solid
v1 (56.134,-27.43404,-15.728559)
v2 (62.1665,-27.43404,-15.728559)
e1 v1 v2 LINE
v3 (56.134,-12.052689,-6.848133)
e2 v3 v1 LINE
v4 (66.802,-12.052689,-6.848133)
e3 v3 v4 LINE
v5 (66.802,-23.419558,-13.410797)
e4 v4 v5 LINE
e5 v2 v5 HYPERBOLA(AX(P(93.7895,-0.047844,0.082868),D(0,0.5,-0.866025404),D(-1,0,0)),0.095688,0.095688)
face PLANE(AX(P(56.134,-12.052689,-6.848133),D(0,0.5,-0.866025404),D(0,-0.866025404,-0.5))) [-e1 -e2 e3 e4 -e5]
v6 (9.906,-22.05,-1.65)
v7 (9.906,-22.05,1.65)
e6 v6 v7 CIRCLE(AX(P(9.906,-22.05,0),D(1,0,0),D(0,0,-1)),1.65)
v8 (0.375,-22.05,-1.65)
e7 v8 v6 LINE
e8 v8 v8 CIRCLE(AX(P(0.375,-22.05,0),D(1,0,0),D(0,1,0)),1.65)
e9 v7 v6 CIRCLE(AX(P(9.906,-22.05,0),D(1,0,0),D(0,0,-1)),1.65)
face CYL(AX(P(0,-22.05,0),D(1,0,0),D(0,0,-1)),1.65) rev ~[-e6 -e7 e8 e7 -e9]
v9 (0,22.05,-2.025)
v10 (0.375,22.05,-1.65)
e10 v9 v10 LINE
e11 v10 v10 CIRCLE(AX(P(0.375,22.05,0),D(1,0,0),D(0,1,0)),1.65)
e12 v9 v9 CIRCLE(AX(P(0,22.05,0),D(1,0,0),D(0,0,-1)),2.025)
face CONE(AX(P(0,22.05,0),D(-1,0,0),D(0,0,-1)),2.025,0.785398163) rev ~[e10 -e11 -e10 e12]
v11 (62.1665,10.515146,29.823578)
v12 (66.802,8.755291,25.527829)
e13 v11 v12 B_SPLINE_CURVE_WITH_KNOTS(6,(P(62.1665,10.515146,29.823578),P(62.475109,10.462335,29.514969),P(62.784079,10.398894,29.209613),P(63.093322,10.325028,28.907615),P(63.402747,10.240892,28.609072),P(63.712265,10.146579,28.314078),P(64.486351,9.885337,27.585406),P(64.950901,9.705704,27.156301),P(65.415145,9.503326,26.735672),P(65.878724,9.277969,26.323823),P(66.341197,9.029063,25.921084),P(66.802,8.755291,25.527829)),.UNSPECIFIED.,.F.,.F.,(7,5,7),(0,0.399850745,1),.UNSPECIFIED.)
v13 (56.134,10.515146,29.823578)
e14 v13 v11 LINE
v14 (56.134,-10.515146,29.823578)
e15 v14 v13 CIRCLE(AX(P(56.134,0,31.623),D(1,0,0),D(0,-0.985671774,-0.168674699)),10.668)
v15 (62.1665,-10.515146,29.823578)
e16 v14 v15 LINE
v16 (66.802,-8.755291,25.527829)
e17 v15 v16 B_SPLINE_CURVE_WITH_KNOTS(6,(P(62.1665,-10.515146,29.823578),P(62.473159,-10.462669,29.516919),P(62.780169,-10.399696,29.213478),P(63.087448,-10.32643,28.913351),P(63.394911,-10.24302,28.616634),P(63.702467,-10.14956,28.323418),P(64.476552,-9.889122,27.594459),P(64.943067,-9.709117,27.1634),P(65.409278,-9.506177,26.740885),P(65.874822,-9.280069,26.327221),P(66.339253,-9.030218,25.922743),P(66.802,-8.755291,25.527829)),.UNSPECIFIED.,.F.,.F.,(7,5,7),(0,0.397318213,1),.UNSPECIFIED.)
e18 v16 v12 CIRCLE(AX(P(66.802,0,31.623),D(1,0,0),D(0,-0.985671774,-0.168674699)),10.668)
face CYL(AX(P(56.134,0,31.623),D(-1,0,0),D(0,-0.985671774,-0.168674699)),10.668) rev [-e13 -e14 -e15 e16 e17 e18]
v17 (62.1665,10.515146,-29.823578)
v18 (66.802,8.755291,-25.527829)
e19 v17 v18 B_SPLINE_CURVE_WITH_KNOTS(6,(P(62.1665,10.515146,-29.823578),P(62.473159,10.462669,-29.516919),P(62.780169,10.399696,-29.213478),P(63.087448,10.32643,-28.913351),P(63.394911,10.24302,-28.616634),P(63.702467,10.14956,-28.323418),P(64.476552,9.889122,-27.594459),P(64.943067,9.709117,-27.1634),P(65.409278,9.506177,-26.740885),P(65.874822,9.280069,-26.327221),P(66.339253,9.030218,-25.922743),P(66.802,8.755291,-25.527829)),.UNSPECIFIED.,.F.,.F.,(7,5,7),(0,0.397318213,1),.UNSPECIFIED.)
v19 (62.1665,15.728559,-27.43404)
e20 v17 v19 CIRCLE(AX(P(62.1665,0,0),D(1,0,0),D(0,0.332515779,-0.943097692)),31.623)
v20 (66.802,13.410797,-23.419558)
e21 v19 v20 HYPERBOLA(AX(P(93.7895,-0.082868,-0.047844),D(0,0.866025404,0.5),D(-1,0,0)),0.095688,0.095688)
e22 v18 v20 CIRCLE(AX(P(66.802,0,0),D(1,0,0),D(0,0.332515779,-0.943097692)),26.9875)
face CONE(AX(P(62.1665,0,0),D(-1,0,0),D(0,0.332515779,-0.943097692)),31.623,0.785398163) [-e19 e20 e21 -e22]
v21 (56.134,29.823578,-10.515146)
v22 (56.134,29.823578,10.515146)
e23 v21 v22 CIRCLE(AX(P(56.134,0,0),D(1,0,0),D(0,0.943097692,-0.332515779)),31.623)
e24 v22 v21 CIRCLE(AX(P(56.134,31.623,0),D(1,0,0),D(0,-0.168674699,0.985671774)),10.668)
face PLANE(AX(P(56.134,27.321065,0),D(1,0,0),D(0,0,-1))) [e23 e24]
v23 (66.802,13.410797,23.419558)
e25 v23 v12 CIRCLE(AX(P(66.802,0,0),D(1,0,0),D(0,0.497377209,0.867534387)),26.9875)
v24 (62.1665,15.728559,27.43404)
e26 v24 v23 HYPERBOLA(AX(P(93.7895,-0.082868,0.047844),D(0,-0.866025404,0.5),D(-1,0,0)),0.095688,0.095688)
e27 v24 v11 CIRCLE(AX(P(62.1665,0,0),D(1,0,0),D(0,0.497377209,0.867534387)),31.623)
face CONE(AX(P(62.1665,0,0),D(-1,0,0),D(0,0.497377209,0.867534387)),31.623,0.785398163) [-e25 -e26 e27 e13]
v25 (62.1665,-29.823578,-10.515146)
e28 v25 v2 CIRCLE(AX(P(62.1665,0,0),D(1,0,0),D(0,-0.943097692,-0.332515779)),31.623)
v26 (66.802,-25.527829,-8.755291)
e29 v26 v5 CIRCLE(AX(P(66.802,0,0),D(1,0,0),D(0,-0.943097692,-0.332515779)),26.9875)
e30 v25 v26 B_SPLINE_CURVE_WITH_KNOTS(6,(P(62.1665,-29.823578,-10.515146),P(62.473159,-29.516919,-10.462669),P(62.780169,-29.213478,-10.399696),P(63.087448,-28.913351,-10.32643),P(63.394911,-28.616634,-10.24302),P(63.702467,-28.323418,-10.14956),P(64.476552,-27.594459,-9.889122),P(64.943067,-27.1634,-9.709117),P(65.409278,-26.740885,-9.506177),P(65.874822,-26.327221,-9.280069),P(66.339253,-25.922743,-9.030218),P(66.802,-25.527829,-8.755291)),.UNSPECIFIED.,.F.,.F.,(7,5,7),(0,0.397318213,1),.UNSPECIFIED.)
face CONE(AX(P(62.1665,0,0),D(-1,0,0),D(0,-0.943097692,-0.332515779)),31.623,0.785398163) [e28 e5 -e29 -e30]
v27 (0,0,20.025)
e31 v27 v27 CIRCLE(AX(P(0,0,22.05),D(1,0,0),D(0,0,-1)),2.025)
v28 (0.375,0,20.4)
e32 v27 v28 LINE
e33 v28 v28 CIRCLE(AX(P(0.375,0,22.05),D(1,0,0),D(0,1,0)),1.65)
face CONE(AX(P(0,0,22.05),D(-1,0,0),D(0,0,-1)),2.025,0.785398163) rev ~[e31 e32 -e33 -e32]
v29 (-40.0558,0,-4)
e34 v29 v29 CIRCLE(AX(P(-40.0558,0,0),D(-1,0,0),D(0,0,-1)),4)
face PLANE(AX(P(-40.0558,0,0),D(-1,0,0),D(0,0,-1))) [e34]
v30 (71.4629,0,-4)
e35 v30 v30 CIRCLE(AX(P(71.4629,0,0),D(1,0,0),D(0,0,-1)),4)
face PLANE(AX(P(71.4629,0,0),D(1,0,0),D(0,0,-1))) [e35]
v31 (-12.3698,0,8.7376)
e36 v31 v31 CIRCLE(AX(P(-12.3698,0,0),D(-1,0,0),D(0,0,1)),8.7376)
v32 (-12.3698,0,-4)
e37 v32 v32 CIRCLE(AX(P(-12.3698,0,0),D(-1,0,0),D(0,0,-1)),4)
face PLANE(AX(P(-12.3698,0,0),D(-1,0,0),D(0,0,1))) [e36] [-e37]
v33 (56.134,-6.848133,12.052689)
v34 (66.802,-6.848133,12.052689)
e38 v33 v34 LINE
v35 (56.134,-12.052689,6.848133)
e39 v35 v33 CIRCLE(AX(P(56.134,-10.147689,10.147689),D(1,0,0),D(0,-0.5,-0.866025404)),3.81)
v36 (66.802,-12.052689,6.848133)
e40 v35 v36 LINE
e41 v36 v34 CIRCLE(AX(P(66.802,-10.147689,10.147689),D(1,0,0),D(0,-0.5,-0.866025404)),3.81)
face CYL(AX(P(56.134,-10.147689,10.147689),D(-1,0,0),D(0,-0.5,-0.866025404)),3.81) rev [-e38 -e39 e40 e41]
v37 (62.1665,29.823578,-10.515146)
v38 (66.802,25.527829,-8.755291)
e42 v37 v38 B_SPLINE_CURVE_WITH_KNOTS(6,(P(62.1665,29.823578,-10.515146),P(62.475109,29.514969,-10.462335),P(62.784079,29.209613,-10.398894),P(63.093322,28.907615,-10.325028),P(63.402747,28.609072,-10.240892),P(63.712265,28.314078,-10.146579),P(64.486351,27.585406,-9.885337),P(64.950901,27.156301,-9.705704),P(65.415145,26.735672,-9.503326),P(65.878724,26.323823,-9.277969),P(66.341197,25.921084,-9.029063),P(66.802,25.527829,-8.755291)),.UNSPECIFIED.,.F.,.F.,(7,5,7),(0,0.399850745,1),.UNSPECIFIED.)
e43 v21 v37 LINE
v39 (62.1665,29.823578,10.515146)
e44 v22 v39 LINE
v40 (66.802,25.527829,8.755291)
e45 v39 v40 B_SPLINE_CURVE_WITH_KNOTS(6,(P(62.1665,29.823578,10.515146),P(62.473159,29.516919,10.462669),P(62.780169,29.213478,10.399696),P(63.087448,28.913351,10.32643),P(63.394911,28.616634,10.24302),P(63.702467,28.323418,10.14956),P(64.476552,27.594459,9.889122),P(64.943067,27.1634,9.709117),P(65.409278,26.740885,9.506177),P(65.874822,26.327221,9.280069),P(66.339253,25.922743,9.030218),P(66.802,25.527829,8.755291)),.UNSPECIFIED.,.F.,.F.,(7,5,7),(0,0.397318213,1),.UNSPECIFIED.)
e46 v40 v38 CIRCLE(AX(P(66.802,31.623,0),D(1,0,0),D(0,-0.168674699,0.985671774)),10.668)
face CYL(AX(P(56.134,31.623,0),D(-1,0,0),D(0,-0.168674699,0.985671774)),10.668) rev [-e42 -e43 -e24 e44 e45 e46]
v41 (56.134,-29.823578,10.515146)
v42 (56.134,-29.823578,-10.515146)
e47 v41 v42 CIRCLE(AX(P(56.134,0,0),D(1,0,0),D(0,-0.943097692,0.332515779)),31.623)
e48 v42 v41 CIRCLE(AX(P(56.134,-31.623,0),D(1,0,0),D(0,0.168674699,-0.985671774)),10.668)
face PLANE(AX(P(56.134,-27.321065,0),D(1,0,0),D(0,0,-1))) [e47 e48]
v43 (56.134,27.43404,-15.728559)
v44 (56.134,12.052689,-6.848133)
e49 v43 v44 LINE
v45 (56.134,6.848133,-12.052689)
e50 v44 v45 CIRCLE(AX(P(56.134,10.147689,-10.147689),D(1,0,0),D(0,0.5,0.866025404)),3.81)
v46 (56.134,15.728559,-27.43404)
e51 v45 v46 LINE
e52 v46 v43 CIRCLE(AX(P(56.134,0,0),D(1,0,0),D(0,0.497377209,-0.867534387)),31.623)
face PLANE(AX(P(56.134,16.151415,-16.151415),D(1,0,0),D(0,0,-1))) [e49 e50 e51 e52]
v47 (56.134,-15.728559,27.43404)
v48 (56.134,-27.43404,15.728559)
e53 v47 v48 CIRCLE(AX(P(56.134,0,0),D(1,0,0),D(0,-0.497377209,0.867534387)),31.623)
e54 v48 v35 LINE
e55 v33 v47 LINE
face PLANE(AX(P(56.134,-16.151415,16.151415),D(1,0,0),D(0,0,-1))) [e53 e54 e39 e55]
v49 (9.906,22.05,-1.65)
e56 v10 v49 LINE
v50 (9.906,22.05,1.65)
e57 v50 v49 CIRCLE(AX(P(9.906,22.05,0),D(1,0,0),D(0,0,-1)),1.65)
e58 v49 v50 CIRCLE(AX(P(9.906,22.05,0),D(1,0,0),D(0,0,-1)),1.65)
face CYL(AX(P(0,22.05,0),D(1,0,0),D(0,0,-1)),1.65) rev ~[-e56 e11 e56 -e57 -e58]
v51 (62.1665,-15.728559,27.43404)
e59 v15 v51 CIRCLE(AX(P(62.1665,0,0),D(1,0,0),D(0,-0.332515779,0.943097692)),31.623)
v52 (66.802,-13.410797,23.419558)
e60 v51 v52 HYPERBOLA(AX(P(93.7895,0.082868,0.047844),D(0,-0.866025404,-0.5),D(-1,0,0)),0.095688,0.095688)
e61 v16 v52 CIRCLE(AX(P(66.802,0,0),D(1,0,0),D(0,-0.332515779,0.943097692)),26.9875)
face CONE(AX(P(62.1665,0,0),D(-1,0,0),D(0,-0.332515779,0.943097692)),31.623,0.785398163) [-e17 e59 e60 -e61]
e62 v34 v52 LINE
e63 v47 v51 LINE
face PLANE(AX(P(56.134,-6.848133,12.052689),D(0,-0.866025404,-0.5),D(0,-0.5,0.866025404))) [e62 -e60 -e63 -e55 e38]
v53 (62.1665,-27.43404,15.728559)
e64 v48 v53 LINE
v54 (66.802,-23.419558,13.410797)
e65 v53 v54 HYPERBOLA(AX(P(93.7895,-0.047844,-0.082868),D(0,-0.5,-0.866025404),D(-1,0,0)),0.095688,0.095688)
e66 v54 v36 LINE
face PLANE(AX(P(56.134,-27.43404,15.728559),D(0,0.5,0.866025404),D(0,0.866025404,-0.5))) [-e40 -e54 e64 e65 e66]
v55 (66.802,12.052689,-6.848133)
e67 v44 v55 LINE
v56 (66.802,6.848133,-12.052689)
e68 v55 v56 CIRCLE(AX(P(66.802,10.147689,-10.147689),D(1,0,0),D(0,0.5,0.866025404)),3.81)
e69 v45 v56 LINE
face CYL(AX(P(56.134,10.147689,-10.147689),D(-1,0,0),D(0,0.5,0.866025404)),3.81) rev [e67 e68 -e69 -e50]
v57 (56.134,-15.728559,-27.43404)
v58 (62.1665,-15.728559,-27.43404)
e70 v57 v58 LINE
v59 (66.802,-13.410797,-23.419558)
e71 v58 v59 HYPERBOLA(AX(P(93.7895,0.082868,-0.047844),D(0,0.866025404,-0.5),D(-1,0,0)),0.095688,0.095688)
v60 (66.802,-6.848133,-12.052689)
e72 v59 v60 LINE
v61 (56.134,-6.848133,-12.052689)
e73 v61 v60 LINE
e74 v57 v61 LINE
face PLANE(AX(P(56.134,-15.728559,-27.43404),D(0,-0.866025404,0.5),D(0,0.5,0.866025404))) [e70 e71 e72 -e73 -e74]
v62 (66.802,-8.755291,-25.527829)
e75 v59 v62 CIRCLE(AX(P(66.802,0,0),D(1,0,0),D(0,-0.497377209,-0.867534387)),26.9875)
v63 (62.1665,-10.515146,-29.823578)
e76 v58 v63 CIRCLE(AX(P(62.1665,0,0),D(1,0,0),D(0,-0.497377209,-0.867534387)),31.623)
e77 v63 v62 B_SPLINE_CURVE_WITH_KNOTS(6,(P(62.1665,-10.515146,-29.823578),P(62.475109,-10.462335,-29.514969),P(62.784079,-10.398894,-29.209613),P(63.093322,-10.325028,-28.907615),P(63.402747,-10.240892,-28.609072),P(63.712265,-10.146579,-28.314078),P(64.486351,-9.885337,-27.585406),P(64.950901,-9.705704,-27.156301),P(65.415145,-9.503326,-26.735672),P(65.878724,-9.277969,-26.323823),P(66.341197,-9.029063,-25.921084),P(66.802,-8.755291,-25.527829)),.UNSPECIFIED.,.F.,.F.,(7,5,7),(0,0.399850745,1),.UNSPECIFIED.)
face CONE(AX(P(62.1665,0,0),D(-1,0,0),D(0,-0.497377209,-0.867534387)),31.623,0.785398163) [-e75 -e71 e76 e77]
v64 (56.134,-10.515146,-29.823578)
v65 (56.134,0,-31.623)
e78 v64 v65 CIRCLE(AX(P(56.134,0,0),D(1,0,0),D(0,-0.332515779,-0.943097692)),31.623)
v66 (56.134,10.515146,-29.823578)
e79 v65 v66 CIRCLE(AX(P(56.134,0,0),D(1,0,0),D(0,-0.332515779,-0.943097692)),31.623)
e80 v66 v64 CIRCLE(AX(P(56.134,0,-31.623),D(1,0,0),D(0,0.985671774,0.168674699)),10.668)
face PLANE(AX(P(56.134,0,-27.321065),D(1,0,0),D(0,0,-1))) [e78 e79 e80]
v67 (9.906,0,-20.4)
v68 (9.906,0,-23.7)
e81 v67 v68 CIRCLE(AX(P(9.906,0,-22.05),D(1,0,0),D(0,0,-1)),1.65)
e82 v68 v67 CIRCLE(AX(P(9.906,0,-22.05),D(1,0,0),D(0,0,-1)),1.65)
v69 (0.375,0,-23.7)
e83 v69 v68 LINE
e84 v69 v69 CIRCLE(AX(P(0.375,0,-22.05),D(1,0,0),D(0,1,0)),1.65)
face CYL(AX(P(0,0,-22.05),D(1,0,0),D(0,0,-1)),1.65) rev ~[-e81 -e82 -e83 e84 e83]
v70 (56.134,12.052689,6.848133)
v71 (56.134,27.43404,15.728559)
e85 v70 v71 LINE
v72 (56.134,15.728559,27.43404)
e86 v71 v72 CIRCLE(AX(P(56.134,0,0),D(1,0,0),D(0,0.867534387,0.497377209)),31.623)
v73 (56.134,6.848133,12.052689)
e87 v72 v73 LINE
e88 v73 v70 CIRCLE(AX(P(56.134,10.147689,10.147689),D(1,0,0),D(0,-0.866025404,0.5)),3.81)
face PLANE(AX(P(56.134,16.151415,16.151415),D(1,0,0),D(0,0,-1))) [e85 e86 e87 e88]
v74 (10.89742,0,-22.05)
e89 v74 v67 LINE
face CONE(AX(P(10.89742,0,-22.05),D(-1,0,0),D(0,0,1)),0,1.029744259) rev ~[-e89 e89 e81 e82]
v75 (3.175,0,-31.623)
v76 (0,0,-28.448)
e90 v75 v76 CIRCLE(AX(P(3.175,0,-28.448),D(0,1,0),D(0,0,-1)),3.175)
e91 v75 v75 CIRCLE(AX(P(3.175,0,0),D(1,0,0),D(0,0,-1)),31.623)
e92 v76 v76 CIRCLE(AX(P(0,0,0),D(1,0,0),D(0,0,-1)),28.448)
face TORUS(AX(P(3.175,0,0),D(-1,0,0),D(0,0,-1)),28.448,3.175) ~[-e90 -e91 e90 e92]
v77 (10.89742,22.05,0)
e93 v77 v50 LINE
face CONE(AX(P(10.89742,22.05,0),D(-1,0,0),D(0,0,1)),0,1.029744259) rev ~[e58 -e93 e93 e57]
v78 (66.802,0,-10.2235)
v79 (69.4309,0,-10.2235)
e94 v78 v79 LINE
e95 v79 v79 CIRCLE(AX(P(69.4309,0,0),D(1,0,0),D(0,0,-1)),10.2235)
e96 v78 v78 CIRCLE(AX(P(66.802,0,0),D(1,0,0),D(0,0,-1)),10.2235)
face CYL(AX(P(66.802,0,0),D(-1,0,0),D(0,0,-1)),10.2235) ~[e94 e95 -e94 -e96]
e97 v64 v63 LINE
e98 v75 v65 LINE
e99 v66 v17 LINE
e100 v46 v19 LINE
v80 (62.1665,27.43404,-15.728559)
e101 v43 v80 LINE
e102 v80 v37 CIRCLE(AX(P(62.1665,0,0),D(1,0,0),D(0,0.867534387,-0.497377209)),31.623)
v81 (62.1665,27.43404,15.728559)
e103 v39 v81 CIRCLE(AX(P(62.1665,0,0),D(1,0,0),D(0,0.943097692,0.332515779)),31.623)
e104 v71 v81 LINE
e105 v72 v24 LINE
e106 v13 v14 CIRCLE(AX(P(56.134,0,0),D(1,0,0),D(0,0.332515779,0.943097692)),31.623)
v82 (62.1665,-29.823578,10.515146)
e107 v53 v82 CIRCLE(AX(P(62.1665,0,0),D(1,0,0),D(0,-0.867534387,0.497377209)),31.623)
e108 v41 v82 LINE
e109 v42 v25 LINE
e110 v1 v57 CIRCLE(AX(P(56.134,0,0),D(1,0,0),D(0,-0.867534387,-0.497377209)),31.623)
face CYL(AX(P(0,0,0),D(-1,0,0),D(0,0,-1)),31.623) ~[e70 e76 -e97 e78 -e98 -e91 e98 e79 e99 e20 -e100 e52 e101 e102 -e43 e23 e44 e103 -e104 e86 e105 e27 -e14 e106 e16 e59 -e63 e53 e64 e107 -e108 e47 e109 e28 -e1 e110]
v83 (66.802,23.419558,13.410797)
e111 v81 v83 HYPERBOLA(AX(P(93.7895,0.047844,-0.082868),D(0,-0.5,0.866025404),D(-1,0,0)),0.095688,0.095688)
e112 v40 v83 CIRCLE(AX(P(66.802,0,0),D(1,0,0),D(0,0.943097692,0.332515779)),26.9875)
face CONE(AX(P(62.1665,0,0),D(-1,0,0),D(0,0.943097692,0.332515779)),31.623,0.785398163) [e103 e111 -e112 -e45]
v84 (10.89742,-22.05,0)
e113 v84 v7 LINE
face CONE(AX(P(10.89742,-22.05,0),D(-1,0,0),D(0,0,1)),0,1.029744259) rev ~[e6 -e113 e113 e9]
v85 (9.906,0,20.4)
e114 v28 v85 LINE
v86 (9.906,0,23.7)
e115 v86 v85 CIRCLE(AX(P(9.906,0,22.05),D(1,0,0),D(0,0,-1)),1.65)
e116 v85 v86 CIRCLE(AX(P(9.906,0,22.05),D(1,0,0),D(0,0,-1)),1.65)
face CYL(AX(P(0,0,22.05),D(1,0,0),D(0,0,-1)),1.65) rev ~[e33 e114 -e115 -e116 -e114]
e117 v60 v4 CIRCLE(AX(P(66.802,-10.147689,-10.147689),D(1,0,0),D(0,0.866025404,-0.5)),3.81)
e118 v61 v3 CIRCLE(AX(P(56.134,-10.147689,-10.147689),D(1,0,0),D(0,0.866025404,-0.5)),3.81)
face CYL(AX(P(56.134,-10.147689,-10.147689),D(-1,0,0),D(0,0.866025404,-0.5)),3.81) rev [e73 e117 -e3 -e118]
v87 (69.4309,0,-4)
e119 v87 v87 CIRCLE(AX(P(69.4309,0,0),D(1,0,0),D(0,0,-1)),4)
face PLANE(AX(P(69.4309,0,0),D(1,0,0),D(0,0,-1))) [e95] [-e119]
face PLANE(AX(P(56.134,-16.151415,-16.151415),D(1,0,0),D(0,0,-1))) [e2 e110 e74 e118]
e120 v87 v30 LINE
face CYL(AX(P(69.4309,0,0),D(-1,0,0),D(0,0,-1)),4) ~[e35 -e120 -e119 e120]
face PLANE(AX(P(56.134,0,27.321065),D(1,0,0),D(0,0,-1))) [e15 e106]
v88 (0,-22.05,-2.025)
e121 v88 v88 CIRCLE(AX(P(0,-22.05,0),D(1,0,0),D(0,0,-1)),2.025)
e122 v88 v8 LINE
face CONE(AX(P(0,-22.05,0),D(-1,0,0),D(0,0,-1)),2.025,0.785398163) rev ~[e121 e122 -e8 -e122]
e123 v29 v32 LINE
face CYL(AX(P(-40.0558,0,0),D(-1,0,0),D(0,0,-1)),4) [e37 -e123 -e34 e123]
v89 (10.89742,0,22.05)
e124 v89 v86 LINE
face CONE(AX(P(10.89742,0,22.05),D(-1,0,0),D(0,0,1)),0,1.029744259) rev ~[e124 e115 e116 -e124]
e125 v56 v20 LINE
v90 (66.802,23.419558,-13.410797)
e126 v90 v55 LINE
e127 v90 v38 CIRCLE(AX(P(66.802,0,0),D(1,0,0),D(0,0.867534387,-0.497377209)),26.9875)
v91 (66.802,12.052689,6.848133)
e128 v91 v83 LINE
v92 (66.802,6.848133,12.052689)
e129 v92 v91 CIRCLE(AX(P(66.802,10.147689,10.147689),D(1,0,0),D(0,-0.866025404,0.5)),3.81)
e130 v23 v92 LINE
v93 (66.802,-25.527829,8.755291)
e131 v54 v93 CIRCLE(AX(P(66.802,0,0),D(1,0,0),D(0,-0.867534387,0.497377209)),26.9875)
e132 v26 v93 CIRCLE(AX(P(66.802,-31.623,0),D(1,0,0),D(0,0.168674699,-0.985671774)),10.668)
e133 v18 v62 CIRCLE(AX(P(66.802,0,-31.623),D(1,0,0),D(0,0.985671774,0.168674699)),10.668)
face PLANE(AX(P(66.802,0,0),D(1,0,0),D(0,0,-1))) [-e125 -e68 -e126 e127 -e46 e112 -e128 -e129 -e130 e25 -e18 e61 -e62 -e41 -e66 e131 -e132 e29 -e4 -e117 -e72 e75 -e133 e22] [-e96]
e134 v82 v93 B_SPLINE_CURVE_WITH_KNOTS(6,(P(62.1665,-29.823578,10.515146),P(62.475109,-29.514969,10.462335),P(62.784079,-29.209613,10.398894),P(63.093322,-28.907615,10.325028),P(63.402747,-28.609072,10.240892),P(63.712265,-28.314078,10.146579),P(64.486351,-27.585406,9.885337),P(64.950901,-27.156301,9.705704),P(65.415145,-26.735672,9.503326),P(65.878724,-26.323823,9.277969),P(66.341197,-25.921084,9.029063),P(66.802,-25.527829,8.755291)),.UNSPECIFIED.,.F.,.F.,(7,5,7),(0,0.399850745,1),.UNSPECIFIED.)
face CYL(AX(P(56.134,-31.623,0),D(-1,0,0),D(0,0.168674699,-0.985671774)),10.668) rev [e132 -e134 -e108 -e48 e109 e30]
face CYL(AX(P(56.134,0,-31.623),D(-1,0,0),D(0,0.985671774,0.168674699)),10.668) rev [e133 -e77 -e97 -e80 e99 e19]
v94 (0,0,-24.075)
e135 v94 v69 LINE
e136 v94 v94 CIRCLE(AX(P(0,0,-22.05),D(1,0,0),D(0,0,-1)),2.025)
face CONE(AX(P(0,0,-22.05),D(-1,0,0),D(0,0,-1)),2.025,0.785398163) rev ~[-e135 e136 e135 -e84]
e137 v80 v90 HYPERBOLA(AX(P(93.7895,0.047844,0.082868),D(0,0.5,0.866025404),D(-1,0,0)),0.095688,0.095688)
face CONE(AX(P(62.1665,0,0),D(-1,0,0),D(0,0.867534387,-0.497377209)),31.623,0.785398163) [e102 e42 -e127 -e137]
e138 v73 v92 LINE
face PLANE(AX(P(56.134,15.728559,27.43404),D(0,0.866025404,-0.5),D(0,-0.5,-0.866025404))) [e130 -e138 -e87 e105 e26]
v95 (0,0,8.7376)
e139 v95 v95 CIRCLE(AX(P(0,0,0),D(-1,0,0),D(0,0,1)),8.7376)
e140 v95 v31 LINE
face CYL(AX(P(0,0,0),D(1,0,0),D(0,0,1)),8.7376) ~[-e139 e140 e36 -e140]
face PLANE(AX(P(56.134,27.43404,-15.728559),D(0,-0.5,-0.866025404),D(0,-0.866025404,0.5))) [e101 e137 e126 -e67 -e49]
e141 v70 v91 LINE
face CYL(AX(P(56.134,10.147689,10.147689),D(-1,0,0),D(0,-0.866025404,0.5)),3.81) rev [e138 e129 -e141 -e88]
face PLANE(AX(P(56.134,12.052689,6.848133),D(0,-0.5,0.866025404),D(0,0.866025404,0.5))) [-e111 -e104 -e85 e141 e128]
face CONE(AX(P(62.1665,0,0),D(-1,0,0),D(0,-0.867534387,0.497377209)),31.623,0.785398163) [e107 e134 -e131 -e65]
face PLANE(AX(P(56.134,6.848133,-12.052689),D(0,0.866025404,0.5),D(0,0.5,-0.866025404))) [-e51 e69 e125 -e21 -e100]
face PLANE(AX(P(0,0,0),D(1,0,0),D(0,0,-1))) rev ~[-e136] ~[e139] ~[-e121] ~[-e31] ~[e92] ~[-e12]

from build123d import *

# Parameters (mm, degrees)
SKETCH1_R                       = 31.623
BOSS_EXTRUDE1_DEPTH             = 66.802
CUT_EXTRUDE1_START              = -10.668
CUT_EXTRUDE1_DEPTH              = 10.668
CHAMFER1_SIZE                   = 4.6355
SKETCH3_R                       = 10.2235
BOSS_EXTRUDE2_DEPTH             = 2.6289
SKETCH4_R                       = 4
BOSS_EXTRUDE3_DEPTH             = 2.032
SKETCH5_R                       = 8.7376
BOSS_EXTRUDE4_DEPTH             = 12.3698
BOSS_EXTRUDE5_START             = 27.686
SKETCH6_R                       = 4
BOSS_EXTRUDE5_DEPTH             = 27.686
M4X0_7_TAPPED_HOLE1_D           = 3.3
M4X0_7_TAPPED_HOLE1_DEPTH       = 9.906
M4X0_7_TAPPED_HOLE1_CSINK_D     = 4.05
M4X0_7_TAPPED_HOLE1_CSINK_ANGLE = 90
M4X0_7_TAPPED_HOLE1_TIP         = 0.991420021
FILLET1_R                       = 3.175


with BuildPart() as part:
    # Sketch1 → Boss-Extrude1 (new body)
    with BuildSketch(Plane(origin=(0, 0, 0), x_dir=(0, 0, -1), z_dir=(1, 0, 0))):
        Circle(SKETCH1_R)
    extrude(amount=BOSS_EXTRUDE1_DEPTH)

    # Sketch2 → Cut-Extrude1 (cut)
    with BuildSketch(Plane(origin=(66.802, 0, 0), x_dir=(0, 0, -1), z_dir=(1, 0, 0)).offset(CUT_EXTRUDE1_START)):
        with BuildLine():
            Line((-27.43403991, 15.728559476), (-12.052689417, 6.848132628))
            ThreePointArc((-12.052689417, 6.848132628), (-7.45361258, 7.45361258), (-6.848132628, 12.052689417))
            Line((-6.848132628, 12.052689417), (-15.728559476, 27.43403991))
            ThreePointArc((-15.728559476, 27.43403991), (-22.360837741, 22.360837741), (-27.43403991, 15.728559476))
        make_face()
        with BuildLine():
            ThreePointArc((-29.823578313, -10.515146485), (-20.955, 0), (-29.823578313, 10.515146485))
            ThreePointArc((-29.823578313, 10.515146485), (-31.623, 0), (-29.823578313, -10.515146485))
        make_face()
        with BuildLine():
            ThreePointArc((6.848132628, 12.052689417), (7.45361258, 7.45361258), (12.052689417, 6.848132628))
            Line((12.052689417, 6.848132628), (27.43403991, 15.728559476))
            ThreePointArc((27.43403991, 15.728559476), (22.360837741, 22.360837741), (15.728559476, 27.43403991))
            Line((15.728559476, 27.43403991), (6.848132628, 12.052689417))
        make_face()
        with BuildLine():
            ThreePointArc((-6.848132628, -12.052689417), (-7.45361258, -7.45361258), (-12.052689417, -6.848132628))
            Line((-12.052689417, -6.848132628), (-27.43403991, -15.728559476))
            ThreePointArc((-27.43403991, -15.728559476), (-22.360837741, -22.360837741), (-15.728559476, -27.43403991))
            Line((-15.728559476, -27.43403991), (-6.848132628, -12.052689417))
        make_face()
        with BuildLine():
            ThreePointArc((10.515146485, 29.823578313), (0, 31.623), (-10.515146485, 29.823578313))
            ThreePointArc((-10.515146485, 29.823578313), (0, 20.955), (10.515146485, 29.823578313))
        make_face()
        with BuildLine():
            ThreePointArc((12.052689417, -6.848132628), (7.45361258, -7.45361258), (6.848132628, -12.052689417))
            Line((6.848132628, -12.052689417), (15.728559476, -27.43403991))
            ThreePointArc((15.728559476, -27.43403991), (22.360837741, -22.360837741), (27.43403991, -15.728559476))
            Line((27.43403991, -15.728559476), (12.052689417, -6.848132628))
        make_face()
        with BuildLine():
            ThreePointArc((29.823578313, -10.515146485), (31.623, 0), (29.823578313, 10.515146485))
            ThreePointArc((29.823578313, 10.515146485), (20.955, 0), (29.823578313, -10.515146485))
        make_face()
        with BuildLine():
            ThreePointArc((10.515146485, -29.823578313), (0, -20.955), (-10.515146485, -29.823578313))
            ThreePointArc((-10.515146485, -29.823578313), (0, -31.623), (10.515146485, -29.823578313))
        make_face()
    extrude(amount=CUT_EXTRUDE1_DEPTH, mode=Mode.SUBTRACT)

    # Chamfer1
    chamfer1_edges = [part.edges().sort_by_distance(p)[0] for p in [
        (66.802, 13.176133693, -28.747236909),
        (66.802, 28.747236909, -13.176133693),
        (66.802, 28.747236909, 13.176133693),
        (66.802, 13.176133693, 28.747236909),
        (66.802, -13.176133693, 28.747236909),
        (66.802, -28.747236909, 13.176133693),
        (66.802, -28.747236909, -13.176133693),
        (66.802, -13.176133693, -28.747236909),
    ]]
    chamfer(chamfer1_edges, length=CHAMFER1_SIZE)

    # Sketch3 → Boss-Extrude2 (add)
    with BuildSketch(Plane(origin=(66.802, 0, 0), x_dir=(0, 0, -1), z_dir=(1, 0, 0))):
        Circle(SKETCH3_R)
    extrude(amount=BOSS_EXTRUDE2_DEPTH)

    # Sketch4 → Boss-Extrude3 (add)
    with BuildSketch(Plane(origin=(69.4309, 0, 0), x_dir=(0, 0, -1), z_dir=(1, 0, 0))):
        Circle(SKETCH4_R)
    extrude(amount=BOSS_EXTRUDE3_DEPTH)

    # Sketch5 → Boss-Extrude4 (add)
    with BuildSketch(Plane.ZY):
        Circle(SKETCH5_R)
    extrude(amount=BOSS_EXTRUDE4_DEPTH)

    # Sketch6 → Boss-Extrude5 (add)
    with BuildSketch(Plane.ZY.offset(12.3698).offset(BOSS_EXTRUDE5_START)):
        with Locations(Location((0, 0, 0), (0, 0, 180))):
            Circle(SKETCH6_R)
    extrude(amount=-BOSS_EXTRUDE5_DEPTH)

    # M4x0.7 Tapped Hole1
    with Locations(Plane.ZY):
        with Locations((0, 22.05), (-22.05, 0), (0, -22.05), (22.05, 0)):
            CounterSinkHole(M4X0_7_TAPPED_HOLE1_D / 2, M4X0_7_TAPPED_HOLE1_CSINK_D / 2, depth=M4X0_7_TAPPED_HOLE1_DEPTH, counter_sink_angle=M4X0_7_TAPPED_HOLE1_CSINK_ANGLE)
            with Locations((0, 0, -(M4X0_7_TAPPED_HOLE1_DEPTH + M4X0_7_TAPPED_HOLE1_TIP / 2))):  # 118° drill point
                Cone(0, M4X0_7_TAPPED_HOLE1_D / 2, M4X0_7_TAPPED_HOLE1_TIP, mode=Mode.SUBTRACT)

    # Fillet1
    fillet1_edges = [part.edges().sort_by_distance(p)[0] for p in [
        (0, 0, 31.623),
    ]]
    fillet(fillet1_edges, radius=FILLET1_R)


solid = part.part
